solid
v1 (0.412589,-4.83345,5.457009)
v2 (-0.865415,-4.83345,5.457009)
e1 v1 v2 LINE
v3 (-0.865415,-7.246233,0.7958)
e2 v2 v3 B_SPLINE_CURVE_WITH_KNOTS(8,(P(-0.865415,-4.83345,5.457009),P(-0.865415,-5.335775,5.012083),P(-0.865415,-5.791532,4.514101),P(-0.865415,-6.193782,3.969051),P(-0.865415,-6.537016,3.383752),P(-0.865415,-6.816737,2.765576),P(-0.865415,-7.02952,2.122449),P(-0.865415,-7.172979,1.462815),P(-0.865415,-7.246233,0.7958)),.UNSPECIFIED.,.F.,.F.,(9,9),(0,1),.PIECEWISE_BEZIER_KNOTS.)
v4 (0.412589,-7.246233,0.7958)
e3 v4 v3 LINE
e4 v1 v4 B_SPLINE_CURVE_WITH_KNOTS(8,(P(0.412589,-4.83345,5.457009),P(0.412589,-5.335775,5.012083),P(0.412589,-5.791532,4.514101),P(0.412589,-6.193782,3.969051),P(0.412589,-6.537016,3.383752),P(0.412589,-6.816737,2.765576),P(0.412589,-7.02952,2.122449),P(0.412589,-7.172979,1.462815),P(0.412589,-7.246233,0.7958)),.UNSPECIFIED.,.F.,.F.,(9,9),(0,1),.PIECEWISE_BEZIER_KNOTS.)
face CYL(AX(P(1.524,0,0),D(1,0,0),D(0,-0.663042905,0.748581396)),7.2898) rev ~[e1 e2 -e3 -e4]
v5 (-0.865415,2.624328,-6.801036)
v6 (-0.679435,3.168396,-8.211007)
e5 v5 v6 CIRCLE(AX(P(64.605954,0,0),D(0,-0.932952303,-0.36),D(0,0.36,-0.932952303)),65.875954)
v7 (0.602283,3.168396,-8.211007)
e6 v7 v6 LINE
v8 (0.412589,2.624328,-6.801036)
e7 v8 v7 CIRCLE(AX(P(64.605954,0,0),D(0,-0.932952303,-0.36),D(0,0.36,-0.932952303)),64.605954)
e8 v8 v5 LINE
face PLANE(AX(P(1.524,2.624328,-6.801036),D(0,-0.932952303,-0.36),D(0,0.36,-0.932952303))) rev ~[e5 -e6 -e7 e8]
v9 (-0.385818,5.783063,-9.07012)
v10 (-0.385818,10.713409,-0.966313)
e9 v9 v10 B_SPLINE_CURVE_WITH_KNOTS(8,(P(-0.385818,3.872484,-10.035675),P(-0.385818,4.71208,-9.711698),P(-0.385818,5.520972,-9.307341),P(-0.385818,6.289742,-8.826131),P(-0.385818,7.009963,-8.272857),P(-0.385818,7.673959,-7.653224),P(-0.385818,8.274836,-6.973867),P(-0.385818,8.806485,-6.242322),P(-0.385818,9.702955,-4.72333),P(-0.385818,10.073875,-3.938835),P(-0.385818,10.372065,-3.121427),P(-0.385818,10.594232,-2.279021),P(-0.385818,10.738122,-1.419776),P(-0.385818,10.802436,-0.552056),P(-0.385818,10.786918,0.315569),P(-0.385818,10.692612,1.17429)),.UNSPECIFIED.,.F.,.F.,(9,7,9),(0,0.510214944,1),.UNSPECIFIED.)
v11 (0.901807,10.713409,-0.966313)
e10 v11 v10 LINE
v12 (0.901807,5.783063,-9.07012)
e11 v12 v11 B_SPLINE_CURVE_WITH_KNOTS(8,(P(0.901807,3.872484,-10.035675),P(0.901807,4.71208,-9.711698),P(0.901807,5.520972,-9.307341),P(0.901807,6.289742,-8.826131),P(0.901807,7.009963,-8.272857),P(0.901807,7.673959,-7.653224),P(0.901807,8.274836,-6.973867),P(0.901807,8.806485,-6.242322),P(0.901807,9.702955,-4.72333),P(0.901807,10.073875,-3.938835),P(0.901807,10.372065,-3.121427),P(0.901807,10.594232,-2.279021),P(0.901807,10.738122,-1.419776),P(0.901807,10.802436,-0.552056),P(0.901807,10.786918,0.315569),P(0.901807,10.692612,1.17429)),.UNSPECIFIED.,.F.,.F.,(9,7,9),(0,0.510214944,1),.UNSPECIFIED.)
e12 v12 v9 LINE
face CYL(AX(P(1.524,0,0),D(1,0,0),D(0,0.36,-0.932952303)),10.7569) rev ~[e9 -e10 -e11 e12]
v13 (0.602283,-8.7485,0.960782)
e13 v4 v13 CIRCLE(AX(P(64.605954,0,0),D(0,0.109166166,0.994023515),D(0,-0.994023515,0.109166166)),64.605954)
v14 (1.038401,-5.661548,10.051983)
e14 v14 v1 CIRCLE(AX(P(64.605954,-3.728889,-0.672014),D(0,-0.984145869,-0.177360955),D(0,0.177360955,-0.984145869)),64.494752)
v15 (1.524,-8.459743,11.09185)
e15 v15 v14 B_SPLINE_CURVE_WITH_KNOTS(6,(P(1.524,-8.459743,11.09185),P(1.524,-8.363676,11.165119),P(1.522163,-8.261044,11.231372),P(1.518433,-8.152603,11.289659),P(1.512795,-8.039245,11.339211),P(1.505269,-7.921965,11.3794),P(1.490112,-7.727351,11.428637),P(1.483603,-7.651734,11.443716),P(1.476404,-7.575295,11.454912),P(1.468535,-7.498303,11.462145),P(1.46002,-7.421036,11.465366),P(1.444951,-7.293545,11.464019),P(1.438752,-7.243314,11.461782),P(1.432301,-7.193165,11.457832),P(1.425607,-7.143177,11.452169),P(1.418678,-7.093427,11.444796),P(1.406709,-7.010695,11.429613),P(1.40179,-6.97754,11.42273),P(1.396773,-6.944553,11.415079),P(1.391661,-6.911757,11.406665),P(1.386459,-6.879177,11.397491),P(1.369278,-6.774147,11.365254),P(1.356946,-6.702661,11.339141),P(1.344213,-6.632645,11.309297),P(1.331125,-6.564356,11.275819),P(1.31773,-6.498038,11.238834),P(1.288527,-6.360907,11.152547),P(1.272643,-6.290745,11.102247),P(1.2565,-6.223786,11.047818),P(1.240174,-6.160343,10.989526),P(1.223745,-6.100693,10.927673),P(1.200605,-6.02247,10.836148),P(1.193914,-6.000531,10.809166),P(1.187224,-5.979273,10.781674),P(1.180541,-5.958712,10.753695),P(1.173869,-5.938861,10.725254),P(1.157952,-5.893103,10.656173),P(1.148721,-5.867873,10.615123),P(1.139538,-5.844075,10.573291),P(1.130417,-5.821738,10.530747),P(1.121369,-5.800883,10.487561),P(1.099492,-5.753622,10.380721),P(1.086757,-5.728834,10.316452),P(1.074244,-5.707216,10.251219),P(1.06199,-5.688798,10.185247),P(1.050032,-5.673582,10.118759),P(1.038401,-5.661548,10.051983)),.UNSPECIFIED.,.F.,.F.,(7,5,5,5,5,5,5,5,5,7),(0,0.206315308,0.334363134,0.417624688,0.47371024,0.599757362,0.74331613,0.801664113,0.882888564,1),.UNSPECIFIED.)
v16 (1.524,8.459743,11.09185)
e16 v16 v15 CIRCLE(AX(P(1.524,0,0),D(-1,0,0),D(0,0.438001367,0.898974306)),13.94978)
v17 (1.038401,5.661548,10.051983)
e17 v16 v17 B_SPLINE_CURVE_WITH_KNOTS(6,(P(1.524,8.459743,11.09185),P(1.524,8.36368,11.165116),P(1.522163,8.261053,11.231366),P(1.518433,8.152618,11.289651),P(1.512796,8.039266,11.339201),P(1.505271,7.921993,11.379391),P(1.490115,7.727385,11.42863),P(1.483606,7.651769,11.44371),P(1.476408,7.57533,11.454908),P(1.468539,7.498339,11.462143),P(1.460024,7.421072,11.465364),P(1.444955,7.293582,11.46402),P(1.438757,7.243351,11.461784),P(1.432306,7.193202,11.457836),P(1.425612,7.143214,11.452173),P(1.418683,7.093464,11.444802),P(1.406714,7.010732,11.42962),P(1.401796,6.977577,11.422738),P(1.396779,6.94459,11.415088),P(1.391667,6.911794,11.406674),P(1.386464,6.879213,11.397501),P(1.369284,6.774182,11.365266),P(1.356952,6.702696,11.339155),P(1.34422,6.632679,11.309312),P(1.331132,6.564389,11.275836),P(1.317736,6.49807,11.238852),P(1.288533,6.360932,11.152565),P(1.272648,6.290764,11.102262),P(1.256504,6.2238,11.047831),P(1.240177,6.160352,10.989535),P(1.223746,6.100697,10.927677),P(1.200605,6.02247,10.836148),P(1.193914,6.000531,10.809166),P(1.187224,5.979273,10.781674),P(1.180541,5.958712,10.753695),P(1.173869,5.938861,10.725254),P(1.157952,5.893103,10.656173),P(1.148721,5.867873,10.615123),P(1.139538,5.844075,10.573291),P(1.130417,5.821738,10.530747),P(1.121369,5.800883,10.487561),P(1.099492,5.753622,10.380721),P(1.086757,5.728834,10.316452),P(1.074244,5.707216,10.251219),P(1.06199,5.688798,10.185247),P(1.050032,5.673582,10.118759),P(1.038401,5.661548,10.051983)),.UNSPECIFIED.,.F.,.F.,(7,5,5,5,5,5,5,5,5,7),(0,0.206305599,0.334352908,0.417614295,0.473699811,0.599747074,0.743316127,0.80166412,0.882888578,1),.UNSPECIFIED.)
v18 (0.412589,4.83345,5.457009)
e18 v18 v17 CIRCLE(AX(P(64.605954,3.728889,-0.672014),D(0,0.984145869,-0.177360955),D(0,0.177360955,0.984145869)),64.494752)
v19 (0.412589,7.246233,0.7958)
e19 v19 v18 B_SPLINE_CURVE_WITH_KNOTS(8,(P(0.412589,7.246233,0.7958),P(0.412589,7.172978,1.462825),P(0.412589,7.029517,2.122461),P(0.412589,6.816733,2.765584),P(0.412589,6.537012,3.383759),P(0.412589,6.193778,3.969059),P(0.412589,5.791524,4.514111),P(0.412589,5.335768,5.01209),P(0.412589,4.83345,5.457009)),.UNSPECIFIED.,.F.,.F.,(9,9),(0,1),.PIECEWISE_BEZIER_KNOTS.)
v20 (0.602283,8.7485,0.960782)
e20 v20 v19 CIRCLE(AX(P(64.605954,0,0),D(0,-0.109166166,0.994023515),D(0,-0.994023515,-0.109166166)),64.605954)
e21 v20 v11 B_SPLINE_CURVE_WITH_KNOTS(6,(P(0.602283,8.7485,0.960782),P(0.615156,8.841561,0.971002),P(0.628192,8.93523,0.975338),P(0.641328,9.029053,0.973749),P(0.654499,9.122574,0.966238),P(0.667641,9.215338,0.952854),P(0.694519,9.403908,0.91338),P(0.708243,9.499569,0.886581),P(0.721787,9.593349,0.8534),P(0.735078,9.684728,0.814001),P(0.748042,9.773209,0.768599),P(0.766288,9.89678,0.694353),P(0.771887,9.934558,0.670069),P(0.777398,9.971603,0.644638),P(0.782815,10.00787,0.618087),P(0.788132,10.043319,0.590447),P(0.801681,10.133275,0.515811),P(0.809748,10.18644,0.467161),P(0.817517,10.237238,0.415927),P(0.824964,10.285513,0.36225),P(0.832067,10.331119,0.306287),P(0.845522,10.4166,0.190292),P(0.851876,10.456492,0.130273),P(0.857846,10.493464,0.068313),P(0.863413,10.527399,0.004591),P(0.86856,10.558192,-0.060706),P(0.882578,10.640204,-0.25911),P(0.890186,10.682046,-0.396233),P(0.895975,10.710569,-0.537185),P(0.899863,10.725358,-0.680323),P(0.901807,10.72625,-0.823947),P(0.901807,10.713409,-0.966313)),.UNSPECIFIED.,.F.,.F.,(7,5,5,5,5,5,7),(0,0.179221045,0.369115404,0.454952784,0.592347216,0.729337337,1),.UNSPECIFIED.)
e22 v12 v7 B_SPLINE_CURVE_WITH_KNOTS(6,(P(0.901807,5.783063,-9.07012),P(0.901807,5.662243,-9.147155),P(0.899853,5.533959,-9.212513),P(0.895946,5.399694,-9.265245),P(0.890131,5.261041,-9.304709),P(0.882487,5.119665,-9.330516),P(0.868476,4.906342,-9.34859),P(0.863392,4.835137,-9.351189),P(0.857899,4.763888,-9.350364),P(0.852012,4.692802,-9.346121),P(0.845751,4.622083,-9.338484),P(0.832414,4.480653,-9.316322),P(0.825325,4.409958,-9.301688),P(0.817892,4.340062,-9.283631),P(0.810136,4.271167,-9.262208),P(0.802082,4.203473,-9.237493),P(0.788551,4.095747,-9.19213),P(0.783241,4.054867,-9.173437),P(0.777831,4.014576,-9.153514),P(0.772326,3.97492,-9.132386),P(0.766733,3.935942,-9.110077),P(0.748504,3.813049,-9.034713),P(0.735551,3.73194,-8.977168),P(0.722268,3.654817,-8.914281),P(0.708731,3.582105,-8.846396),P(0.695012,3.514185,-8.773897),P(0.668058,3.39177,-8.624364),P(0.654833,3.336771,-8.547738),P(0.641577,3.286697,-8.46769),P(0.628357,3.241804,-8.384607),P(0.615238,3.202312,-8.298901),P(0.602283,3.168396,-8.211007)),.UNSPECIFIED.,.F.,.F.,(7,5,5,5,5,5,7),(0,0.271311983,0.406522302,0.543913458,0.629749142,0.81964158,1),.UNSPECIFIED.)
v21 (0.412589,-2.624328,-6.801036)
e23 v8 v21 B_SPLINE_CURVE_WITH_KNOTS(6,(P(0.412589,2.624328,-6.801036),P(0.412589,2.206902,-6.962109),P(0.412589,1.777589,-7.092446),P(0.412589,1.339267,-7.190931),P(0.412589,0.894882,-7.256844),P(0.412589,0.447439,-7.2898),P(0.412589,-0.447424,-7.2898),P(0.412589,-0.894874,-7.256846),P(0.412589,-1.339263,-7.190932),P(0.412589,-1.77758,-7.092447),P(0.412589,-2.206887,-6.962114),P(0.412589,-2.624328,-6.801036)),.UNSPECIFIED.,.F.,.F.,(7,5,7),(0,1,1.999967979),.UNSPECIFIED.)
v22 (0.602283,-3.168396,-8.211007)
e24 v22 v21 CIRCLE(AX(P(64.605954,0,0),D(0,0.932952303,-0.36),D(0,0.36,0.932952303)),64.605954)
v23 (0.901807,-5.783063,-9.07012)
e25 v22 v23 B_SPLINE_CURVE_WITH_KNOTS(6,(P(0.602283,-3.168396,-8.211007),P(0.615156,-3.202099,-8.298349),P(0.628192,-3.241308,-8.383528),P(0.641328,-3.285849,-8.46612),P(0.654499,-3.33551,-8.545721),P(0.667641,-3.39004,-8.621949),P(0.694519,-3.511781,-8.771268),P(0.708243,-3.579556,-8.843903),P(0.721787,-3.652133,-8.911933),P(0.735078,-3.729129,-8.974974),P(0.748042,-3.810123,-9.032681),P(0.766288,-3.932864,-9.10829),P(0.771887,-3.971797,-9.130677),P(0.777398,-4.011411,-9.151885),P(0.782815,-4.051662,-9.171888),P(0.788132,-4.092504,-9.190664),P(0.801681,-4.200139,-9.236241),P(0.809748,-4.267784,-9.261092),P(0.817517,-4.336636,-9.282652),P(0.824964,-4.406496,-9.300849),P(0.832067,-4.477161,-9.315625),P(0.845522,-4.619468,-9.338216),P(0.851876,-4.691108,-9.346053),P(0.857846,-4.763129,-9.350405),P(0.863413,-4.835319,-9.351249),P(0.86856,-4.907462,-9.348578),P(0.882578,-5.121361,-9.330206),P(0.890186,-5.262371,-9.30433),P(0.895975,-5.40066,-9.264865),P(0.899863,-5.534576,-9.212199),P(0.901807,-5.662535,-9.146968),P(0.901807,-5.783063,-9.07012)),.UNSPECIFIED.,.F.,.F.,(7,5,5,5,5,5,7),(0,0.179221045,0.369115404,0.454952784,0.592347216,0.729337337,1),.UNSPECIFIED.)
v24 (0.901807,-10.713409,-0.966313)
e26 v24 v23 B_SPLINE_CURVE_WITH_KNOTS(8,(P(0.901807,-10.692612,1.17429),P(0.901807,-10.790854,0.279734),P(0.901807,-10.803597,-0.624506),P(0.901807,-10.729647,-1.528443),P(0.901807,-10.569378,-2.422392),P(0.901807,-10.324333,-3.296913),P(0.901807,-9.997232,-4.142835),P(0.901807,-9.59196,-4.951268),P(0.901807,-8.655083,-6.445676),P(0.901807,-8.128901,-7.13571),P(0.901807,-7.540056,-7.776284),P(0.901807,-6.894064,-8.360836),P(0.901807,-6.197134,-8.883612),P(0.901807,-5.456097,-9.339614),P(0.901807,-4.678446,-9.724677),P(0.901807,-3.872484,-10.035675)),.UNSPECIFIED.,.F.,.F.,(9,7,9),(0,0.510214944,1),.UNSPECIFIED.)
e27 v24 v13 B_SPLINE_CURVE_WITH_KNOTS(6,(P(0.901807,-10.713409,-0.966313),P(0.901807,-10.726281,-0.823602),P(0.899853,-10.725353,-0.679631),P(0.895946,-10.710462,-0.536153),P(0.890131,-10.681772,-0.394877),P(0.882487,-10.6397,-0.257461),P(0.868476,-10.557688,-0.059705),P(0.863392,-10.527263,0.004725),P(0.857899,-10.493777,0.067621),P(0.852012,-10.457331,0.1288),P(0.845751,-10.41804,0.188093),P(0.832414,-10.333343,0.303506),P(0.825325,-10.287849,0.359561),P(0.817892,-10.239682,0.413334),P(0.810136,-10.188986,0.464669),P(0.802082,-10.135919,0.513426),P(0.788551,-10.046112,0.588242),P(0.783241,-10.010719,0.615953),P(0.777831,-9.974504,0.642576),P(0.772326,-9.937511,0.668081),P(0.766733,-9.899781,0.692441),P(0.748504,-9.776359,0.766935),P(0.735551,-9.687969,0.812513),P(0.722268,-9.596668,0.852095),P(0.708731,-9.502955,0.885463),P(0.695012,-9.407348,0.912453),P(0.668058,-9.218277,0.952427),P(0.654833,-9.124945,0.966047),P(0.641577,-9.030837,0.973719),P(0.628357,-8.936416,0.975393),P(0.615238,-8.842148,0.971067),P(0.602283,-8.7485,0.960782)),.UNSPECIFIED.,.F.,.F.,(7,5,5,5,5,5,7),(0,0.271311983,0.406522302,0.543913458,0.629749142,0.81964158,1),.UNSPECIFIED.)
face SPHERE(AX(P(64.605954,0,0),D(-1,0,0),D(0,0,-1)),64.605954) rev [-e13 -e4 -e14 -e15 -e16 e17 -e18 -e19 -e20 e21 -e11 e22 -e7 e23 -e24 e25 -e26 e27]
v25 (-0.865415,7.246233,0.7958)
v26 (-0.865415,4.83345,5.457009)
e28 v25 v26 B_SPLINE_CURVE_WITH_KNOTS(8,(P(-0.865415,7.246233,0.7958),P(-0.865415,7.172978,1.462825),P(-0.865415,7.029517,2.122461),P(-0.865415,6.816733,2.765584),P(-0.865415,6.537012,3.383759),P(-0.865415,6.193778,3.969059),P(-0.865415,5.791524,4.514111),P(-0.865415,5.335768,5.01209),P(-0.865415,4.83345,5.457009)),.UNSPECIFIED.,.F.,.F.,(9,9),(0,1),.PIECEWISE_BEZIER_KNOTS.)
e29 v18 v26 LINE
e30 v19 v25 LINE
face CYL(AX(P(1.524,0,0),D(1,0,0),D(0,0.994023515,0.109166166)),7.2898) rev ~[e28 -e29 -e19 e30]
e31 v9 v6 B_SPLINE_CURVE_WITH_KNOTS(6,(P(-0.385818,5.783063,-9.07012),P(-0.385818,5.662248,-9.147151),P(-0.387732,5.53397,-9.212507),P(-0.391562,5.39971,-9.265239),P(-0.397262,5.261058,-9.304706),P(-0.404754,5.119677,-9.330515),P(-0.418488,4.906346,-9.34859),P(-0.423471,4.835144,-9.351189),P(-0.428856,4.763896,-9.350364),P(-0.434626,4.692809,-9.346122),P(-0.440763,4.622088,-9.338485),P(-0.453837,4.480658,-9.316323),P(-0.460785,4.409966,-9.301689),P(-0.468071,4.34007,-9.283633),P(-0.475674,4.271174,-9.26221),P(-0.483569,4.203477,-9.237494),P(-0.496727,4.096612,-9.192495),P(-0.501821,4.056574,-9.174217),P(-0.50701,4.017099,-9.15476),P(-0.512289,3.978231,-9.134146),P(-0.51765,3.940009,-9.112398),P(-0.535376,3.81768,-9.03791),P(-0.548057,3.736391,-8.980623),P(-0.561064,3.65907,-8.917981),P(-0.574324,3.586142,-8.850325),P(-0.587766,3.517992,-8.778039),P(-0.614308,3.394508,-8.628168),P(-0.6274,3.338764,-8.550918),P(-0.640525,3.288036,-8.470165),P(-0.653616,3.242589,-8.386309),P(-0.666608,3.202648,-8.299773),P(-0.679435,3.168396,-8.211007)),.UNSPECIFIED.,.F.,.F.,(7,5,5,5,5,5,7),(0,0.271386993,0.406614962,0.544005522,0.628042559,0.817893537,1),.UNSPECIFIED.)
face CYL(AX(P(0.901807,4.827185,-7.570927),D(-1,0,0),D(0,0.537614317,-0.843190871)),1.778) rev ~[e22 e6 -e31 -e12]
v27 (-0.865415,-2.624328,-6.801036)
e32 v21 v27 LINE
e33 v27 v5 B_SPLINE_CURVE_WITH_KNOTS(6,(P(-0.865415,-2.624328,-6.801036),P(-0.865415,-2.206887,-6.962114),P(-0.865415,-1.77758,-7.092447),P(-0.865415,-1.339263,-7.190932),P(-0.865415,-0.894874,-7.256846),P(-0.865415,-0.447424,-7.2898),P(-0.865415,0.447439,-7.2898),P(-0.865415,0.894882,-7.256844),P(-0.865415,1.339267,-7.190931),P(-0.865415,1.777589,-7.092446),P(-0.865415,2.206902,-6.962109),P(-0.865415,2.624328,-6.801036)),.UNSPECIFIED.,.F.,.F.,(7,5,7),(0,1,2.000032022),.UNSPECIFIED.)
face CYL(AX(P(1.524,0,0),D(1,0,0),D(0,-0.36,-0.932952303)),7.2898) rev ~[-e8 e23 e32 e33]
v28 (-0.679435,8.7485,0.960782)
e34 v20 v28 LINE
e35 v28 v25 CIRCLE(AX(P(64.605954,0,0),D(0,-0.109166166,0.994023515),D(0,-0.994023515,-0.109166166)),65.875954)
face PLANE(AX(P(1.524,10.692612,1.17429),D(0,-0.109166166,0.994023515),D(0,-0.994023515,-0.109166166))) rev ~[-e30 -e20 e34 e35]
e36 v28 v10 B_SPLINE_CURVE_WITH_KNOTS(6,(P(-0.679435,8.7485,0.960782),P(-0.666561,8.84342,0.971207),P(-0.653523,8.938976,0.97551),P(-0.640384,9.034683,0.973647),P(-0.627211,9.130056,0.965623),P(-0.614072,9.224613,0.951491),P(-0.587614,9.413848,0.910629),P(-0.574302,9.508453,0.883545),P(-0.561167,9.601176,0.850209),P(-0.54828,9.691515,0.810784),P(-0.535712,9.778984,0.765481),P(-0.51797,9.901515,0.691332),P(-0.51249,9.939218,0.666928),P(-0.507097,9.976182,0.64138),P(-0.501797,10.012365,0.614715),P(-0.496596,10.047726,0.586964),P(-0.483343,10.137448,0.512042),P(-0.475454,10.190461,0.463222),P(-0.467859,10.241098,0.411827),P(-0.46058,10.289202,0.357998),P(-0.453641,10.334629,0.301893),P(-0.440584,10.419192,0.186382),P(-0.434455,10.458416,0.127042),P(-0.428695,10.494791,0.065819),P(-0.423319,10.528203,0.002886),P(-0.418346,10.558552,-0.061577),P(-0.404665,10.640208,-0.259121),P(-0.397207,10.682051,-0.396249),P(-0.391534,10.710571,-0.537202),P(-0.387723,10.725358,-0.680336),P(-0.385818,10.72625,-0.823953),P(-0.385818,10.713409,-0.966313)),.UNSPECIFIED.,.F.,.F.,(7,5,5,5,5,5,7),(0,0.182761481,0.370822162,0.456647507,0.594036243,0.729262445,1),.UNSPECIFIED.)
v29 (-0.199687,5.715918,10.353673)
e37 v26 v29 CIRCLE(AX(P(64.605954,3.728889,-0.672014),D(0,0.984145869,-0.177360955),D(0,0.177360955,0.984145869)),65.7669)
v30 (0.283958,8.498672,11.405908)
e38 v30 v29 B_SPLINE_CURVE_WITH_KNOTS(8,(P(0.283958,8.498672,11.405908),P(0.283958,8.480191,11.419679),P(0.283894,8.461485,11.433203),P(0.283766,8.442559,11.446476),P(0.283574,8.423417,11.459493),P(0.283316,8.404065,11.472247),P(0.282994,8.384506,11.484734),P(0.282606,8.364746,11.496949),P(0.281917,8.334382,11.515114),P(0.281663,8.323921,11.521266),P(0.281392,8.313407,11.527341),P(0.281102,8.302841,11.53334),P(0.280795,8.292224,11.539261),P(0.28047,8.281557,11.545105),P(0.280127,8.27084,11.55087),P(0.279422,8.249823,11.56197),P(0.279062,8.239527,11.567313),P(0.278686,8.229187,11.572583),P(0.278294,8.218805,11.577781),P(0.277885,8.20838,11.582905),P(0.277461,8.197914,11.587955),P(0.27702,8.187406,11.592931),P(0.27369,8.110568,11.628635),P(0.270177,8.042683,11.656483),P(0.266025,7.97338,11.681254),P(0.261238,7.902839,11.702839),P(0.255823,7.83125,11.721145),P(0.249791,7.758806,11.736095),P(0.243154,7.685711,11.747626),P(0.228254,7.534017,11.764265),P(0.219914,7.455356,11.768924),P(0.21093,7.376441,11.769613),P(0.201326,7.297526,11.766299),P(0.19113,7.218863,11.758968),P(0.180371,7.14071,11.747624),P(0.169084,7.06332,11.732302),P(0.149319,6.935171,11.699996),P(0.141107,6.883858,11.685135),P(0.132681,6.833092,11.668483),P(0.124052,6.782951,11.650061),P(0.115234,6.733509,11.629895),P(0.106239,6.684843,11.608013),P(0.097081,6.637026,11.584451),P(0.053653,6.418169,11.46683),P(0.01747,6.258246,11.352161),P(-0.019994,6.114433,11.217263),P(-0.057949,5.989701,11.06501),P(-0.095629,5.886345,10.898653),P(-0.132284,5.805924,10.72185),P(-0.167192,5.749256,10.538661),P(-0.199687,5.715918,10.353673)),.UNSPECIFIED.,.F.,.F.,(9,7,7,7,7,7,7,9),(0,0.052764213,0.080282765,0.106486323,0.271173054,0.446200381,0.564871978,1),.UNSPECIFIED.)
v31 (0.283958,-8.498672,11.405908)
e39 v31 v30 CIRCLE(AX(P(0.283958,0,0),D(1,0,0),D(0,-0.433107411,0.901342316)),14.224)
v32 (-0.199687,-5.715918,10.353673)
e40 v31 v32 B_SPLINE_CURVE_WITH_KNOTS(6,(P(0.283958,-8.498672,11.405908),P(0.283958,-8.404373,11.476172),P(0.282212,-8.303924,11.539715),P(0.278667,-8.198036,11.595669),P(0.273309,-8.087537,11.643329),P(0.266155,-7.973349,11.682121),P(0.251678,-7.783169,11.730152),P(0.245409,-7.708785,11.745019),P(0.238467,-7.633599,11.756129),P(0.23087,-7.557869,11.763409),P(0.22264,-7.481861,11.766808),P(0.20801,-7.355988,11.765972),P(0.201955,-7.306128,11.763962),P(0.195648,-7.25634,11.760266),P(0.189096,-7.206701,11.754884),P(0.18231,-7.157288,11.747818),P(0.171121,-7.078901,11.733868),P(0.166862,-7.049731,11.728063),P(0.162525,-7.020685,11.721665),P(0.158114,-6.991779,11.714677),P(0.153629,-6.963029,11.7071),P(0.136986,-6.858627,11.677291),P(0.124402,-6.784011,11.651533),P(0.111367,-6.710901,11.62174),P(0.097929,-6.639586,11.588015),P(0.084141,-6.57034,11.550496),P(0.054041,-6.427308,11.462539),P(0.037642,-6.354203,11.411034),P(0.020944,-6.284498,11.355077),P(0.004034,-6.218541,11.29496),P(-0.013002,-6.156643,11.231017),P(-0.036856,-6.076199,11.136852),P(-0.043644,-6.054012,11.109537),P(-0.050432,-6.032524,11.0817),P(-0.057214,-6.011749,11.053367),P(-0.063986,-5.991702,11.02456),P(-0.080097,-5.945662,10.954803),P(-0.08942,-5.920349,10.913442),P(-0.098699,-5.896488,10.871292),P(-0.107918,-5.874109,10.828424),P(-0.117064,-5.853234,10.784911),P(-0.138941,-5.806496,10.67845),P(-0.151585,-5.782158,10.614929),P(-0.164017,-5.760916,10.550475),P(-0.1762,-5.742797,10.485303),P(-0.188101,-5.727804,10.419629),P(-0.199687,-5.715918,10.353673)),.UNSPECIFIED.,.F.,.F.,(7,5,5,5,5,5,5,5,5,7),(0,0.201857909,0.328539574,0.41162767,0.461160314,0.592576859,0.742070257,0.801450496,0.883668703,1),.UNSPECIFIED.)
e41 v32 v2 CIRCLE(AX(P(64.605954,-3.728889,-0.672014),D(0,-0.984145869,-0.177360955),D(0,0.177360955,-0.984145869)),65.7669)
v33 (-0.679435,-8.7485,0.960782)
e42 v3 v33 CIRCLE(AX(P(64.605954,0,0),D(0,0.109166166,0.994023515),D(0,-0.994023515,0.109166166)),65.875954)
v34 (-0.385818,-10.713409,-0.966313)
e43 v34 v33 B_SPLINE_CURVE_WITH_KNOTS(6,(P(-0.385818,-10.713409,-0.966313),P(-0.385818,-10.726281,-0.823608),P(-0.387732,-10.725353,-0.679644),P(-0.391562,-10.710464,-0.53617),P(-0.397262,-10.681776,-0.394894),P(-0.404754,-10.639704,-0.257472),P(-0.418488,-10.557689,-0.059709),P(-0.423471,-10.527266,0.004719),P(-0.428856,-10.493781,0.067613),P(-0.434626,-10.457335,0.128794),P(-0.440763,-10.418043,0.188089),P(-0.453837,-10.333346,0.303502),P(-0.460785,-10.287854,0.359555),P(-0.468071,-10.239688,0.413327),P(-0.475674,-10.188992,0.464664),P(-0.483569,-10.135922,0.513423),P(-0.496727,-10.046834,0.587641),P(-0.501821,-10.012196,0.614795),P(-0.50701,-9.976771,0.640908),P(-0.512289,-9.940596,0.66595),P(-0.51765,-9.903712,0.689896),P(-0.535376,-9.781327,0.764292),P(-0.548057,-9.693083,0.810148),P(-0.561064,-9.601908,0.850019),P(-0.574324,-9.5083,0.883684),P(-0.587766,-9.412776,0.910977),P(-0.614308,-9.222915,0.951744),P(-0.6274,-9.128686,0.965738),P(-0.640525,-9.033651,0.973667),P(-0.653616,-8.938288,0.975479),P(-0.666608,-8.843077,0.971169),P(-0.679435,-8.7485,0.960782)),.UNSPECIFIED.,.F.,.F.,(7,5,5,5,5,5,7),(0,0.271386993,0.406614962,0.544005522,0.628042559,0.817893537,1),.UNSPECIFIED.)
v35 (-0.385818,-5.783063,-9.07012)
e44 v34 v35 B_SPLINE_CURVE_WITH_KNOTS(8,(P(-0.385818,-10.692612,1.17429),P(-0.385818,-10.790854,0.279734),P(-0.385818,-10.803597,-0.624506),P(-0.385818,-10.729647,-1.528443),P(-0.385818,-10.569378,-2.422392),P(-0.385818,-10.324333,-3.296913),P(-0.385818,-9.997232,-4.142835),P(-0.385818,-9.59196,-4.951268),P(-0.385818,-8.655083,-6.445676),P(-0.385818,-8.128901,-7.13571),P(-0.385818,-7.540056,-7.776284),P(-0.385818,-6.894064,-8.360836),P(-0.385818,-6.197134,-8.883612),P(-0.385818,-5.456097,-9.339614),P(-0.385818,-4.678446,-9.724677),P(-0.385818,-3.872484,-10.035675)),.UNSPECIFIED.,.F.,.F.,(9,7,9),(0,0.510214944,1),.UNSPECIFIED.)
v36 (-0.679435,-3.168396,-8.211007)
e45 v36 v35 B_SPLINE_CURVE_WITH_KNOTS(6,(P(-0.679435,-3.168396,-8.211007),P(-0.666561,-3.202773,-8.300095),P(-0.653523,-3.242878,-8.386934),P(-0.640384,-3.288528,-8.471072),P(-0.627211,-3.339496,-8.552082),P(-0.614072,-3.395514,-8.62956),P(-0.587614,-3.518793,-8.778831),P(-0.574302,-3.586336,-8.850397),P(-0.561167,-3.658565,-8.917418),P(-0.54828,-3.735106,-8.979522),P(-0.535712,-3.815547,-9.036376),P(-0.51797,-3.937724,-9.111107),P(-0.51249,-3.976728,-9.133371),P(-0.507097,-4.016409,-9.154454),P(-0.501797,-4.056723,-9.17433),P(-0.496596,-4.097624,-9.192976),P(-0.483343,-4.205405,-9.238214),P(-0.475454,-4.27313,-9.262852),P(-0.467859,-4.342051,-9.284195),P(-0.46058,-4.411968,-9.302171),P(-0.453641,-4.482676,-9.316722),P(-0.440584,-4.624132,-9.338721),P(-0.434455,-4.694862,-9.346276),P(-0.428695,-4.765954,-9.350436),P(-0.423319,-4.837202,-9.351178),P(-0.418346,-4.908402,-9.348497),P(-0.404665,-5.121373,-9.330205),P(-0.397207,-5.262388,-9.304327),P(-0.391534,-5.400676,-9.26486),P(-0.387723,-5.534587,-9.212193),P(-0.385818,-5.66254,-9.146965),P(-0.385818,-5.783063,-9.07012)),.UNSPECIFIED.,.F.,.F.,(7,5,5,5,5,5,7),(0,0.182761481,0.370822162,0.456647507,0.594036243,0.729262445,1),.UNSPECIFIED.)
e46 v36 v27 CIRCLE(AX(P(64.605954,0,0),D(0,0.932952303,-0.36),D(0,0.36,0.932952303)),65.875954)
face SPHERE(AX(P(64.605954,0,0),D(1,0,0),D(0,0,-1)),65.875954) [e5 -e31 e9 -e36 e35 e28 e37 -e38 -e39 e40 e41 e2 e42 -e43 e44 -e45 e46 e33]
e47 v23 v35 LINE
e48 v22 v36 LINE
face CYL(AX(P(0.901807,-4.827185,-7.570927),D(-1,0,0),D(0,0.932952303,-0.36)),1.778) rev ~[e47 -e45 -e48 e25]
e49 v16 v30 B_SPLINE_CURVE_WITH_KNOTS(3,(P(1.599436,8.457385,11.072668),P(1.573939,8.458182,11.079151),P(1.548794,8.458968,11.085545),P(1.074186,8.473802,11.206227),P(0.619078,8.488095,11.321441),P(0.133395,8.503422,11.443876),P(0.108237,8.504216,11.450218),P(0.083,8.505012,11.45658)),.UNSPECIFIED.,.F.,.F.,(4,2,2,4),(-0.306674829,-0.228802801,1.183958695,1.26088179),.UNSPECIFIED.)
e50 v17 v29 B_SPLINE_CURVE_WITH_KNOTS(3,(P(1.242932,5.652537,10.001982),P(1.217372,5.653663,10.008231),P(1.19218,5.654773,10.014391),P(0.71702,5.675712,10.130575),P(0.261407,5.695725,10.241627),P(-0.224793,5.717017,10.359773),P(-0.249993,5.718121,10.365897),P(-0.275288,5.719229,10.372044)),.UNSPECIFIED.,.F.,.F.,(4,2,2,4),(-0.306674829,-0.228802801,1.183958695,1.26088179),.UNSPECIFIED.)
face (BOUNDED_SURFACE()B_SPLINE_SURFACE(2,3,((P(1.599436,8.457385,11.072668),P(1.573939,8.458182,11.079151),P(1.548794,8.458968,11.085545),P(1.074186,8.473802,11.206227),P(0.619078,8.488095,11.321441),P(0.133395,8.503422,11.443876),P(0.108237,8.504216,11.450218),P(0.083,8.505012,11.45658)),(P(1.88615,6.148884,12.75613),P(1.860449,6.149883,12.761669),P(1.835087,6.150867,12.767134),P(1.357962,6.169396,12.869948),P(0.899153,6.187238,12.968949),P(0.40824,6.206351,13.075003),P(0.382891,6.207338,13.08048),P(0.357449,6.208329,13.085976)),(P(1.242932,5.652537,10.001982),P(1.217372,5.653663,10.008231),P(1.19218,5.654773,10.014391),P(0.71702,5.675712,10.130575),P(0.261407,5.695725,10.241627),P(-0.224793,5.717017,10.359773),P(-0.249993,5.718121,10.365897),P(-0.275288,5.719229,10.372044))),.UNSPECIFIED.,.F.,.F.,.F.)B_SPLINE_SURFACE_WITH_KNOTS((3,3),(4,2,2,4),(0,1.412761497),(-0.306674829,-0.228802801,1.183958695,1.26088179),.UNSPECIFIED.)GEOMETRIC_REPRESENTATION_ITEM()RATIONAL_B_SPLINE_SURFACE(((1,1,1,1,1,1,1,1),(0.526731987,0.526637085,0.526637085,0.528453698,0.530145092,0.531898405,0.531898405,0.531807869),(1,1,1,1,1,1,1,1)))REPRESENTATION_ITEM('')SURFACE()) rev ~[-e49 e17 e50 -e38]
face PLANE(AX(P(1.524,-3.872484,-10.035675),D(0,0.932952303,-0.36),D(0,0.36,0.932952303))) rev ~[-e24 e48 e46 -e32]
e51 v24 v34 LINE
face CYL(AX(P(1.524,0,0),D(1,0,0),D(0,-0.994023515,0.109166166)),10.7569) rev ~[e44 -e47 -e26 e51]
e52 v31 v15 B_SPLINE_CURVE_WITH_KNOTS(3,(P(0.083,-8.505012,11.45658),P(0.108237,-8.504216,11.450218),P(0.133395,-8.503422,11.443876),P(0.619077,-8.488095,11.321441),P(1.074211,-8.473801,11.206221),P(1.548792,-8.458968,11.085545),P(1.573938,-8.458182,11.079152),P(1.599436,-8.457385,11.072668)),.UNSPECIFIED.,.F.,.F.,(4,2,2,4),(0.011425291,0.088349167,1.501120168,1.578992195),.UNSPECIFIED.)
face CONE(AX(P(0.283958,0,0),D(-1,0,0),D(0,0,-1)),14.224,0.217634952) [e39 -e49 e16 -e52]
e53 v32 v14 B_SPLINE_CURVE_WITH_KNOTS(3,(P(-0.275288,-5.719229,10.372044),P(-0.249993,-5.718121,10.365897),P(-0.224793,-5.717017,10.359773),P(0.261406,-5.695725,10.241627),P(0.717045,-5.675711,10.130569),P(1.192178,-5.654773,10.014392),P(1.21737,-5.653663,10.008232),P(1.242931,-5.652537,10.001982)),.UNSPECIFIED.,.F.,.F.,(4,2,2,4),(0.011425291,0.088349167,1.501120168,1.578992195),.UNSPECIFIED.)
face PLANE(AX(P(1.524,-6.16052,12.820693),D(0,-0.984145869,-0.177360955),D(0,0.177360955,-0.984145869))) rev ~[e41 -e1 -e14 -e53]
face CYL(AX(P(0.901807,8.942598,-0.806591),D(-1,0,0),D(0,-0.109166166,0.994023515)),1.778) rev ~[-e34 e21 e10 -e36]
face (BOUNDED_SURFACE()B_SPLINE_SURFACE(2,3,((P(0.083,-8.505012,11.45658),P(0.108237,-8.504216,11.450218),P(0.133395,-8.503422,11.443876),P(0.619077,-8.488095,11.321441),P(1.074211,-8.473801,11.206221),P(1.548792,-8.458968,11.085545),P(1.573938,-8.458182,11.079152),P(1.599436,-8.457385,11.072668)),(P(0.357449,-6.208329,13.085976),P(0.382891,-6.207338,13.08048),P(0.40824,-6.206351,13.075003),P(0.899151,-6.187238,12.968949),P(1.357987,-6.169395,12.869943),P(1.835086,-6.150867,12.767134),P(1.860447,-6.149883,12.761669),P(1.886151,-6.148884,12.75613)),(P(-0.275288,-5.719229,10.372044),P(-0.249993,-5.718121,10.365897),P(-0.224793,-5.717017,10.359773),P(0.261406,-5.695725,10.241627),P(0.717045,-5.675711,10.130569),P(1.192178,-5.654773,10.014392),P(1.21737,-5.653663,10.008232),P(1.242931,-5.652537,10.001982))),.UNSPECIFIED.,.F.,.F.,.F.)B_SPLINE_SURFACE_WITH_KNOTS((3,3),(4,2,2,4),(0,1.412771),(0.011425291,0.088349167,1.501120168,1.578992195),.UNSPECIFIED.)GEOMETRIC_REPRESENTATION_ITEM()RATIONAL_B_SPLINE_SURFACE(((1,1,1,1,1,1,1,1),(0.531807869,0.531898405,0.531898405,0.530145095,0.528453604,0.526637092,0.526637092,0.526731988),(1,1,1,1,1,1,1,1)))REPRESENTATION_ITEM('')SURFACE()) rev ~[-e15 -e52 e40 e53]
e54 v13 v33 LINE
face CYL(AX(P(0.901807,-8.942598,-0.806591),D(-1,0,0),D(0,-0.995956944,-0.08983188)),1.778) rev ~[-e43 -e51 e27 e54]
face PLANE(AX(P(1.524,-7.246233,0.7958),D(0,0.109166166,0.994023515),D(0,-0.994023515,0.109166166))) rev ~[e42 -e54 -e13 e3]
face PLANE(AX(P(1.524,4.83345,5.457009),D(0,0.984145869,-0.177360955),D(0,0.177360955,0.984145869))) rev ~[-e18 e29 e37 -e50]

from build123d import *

# Parameters (mm, degrees)
CUT_EXTRUDE1_DEPTH = 3.794
FILLET1_R          = 1.778


with BuildPart() as part:
    # Sketch2 → Revolve1 (revolve)
    with BuildSketch(Plane(origin=(0, 0, 0), x_dir=(1, 0, 0), z_dir=(0, 1, 0))):
        with BuildLine():
            Line((0.283958229, 14.224), (1.524, 13.949780367))
            ThreePointArc((1.524, 13.949780367), (0.382130108, 7.016390601), (0, 0))
            Line((0, 0), (-1.27, 0))
            ThreePointArc((-1.27, 0), (-0.880358119, 7.154316218), (0.283958229, 14.224))
        make_face()
    revolve(axis=Axis((0, 0, 0), (1, 0, 0)))

    # Sketch1 → Cut-Extrude1 (cut, through all)
    with BuildSketch(Plane(origin=(1.524, 0, 0), x_dir=(0, 0, -1), z_dir=(1, 0, 0))):
        with BuildLine():
            Line((-12.820693103, -6.160519812), (-5.457008659, -4.833450169))
            ThreePointArc((-5.457008659, -4.833450169), (-3.351086736, -6.473901585), (-0.795799518, -7.246232619))
            Line((-0.795799518, -7.246232619), (-1.174289533, -10.692611547))
            ThreePointArc((-1.174289533, -10.692611547), (5.59102597, -9.189740269), (10.03567463, -3.872484))
            Line((10.03567463, -3.872484), (6.8010357, -2.624328))
            ThreePointArc((6.8010357, -2.624328), (7.2898, 0), (6.8010357, 2.624328))
            Line((6.8010357, 2.624328), (10.03567463, 3.872484))
            ThreePointArc((10.03567463, 3.872484), (5.59102597, 9.189740269), (-1.174289533, 10.692611547))
            Line((-1.174289533, 10.692611547), (-0.795799518, 7.246232619))
            ThreePointArc((-0.795799518, 7.246232619), (-3.351086736, 6.473901585), (-5.457008659, 4.833450169))
            Line((-5.457008659, 4.833450169), (-12.820693103, 6.160519812))
            ThreePointArc((-12.820693103, 6.160519812), (-14.224, 0), (-12.820693103, -6.160519812))
        make_face()
    extrude(amount=-CUT_EXTRUDE1_DEPTH, mode=Mode.SUBTRACT)

    # Fillet1
    fillet1_edges = [part.edges().sort_by_distance(p)[0] for p in [
        (0.257994341, 10.692611547, 1.174289533),
        (0.257994341, 3.872484, -10.03567463),
        (0.257994341, -3.872484, -10.03567463),
        (0.257994341, -10.692611547, 1.174289533),
        (0.9039909, -6.135280444, 12.680644128),
        (0.9039909, 6.135280444, 12.680644128),
    ]]
    fillet(fillet1_edges, radius=FILLET1_R)


solid = part.part
